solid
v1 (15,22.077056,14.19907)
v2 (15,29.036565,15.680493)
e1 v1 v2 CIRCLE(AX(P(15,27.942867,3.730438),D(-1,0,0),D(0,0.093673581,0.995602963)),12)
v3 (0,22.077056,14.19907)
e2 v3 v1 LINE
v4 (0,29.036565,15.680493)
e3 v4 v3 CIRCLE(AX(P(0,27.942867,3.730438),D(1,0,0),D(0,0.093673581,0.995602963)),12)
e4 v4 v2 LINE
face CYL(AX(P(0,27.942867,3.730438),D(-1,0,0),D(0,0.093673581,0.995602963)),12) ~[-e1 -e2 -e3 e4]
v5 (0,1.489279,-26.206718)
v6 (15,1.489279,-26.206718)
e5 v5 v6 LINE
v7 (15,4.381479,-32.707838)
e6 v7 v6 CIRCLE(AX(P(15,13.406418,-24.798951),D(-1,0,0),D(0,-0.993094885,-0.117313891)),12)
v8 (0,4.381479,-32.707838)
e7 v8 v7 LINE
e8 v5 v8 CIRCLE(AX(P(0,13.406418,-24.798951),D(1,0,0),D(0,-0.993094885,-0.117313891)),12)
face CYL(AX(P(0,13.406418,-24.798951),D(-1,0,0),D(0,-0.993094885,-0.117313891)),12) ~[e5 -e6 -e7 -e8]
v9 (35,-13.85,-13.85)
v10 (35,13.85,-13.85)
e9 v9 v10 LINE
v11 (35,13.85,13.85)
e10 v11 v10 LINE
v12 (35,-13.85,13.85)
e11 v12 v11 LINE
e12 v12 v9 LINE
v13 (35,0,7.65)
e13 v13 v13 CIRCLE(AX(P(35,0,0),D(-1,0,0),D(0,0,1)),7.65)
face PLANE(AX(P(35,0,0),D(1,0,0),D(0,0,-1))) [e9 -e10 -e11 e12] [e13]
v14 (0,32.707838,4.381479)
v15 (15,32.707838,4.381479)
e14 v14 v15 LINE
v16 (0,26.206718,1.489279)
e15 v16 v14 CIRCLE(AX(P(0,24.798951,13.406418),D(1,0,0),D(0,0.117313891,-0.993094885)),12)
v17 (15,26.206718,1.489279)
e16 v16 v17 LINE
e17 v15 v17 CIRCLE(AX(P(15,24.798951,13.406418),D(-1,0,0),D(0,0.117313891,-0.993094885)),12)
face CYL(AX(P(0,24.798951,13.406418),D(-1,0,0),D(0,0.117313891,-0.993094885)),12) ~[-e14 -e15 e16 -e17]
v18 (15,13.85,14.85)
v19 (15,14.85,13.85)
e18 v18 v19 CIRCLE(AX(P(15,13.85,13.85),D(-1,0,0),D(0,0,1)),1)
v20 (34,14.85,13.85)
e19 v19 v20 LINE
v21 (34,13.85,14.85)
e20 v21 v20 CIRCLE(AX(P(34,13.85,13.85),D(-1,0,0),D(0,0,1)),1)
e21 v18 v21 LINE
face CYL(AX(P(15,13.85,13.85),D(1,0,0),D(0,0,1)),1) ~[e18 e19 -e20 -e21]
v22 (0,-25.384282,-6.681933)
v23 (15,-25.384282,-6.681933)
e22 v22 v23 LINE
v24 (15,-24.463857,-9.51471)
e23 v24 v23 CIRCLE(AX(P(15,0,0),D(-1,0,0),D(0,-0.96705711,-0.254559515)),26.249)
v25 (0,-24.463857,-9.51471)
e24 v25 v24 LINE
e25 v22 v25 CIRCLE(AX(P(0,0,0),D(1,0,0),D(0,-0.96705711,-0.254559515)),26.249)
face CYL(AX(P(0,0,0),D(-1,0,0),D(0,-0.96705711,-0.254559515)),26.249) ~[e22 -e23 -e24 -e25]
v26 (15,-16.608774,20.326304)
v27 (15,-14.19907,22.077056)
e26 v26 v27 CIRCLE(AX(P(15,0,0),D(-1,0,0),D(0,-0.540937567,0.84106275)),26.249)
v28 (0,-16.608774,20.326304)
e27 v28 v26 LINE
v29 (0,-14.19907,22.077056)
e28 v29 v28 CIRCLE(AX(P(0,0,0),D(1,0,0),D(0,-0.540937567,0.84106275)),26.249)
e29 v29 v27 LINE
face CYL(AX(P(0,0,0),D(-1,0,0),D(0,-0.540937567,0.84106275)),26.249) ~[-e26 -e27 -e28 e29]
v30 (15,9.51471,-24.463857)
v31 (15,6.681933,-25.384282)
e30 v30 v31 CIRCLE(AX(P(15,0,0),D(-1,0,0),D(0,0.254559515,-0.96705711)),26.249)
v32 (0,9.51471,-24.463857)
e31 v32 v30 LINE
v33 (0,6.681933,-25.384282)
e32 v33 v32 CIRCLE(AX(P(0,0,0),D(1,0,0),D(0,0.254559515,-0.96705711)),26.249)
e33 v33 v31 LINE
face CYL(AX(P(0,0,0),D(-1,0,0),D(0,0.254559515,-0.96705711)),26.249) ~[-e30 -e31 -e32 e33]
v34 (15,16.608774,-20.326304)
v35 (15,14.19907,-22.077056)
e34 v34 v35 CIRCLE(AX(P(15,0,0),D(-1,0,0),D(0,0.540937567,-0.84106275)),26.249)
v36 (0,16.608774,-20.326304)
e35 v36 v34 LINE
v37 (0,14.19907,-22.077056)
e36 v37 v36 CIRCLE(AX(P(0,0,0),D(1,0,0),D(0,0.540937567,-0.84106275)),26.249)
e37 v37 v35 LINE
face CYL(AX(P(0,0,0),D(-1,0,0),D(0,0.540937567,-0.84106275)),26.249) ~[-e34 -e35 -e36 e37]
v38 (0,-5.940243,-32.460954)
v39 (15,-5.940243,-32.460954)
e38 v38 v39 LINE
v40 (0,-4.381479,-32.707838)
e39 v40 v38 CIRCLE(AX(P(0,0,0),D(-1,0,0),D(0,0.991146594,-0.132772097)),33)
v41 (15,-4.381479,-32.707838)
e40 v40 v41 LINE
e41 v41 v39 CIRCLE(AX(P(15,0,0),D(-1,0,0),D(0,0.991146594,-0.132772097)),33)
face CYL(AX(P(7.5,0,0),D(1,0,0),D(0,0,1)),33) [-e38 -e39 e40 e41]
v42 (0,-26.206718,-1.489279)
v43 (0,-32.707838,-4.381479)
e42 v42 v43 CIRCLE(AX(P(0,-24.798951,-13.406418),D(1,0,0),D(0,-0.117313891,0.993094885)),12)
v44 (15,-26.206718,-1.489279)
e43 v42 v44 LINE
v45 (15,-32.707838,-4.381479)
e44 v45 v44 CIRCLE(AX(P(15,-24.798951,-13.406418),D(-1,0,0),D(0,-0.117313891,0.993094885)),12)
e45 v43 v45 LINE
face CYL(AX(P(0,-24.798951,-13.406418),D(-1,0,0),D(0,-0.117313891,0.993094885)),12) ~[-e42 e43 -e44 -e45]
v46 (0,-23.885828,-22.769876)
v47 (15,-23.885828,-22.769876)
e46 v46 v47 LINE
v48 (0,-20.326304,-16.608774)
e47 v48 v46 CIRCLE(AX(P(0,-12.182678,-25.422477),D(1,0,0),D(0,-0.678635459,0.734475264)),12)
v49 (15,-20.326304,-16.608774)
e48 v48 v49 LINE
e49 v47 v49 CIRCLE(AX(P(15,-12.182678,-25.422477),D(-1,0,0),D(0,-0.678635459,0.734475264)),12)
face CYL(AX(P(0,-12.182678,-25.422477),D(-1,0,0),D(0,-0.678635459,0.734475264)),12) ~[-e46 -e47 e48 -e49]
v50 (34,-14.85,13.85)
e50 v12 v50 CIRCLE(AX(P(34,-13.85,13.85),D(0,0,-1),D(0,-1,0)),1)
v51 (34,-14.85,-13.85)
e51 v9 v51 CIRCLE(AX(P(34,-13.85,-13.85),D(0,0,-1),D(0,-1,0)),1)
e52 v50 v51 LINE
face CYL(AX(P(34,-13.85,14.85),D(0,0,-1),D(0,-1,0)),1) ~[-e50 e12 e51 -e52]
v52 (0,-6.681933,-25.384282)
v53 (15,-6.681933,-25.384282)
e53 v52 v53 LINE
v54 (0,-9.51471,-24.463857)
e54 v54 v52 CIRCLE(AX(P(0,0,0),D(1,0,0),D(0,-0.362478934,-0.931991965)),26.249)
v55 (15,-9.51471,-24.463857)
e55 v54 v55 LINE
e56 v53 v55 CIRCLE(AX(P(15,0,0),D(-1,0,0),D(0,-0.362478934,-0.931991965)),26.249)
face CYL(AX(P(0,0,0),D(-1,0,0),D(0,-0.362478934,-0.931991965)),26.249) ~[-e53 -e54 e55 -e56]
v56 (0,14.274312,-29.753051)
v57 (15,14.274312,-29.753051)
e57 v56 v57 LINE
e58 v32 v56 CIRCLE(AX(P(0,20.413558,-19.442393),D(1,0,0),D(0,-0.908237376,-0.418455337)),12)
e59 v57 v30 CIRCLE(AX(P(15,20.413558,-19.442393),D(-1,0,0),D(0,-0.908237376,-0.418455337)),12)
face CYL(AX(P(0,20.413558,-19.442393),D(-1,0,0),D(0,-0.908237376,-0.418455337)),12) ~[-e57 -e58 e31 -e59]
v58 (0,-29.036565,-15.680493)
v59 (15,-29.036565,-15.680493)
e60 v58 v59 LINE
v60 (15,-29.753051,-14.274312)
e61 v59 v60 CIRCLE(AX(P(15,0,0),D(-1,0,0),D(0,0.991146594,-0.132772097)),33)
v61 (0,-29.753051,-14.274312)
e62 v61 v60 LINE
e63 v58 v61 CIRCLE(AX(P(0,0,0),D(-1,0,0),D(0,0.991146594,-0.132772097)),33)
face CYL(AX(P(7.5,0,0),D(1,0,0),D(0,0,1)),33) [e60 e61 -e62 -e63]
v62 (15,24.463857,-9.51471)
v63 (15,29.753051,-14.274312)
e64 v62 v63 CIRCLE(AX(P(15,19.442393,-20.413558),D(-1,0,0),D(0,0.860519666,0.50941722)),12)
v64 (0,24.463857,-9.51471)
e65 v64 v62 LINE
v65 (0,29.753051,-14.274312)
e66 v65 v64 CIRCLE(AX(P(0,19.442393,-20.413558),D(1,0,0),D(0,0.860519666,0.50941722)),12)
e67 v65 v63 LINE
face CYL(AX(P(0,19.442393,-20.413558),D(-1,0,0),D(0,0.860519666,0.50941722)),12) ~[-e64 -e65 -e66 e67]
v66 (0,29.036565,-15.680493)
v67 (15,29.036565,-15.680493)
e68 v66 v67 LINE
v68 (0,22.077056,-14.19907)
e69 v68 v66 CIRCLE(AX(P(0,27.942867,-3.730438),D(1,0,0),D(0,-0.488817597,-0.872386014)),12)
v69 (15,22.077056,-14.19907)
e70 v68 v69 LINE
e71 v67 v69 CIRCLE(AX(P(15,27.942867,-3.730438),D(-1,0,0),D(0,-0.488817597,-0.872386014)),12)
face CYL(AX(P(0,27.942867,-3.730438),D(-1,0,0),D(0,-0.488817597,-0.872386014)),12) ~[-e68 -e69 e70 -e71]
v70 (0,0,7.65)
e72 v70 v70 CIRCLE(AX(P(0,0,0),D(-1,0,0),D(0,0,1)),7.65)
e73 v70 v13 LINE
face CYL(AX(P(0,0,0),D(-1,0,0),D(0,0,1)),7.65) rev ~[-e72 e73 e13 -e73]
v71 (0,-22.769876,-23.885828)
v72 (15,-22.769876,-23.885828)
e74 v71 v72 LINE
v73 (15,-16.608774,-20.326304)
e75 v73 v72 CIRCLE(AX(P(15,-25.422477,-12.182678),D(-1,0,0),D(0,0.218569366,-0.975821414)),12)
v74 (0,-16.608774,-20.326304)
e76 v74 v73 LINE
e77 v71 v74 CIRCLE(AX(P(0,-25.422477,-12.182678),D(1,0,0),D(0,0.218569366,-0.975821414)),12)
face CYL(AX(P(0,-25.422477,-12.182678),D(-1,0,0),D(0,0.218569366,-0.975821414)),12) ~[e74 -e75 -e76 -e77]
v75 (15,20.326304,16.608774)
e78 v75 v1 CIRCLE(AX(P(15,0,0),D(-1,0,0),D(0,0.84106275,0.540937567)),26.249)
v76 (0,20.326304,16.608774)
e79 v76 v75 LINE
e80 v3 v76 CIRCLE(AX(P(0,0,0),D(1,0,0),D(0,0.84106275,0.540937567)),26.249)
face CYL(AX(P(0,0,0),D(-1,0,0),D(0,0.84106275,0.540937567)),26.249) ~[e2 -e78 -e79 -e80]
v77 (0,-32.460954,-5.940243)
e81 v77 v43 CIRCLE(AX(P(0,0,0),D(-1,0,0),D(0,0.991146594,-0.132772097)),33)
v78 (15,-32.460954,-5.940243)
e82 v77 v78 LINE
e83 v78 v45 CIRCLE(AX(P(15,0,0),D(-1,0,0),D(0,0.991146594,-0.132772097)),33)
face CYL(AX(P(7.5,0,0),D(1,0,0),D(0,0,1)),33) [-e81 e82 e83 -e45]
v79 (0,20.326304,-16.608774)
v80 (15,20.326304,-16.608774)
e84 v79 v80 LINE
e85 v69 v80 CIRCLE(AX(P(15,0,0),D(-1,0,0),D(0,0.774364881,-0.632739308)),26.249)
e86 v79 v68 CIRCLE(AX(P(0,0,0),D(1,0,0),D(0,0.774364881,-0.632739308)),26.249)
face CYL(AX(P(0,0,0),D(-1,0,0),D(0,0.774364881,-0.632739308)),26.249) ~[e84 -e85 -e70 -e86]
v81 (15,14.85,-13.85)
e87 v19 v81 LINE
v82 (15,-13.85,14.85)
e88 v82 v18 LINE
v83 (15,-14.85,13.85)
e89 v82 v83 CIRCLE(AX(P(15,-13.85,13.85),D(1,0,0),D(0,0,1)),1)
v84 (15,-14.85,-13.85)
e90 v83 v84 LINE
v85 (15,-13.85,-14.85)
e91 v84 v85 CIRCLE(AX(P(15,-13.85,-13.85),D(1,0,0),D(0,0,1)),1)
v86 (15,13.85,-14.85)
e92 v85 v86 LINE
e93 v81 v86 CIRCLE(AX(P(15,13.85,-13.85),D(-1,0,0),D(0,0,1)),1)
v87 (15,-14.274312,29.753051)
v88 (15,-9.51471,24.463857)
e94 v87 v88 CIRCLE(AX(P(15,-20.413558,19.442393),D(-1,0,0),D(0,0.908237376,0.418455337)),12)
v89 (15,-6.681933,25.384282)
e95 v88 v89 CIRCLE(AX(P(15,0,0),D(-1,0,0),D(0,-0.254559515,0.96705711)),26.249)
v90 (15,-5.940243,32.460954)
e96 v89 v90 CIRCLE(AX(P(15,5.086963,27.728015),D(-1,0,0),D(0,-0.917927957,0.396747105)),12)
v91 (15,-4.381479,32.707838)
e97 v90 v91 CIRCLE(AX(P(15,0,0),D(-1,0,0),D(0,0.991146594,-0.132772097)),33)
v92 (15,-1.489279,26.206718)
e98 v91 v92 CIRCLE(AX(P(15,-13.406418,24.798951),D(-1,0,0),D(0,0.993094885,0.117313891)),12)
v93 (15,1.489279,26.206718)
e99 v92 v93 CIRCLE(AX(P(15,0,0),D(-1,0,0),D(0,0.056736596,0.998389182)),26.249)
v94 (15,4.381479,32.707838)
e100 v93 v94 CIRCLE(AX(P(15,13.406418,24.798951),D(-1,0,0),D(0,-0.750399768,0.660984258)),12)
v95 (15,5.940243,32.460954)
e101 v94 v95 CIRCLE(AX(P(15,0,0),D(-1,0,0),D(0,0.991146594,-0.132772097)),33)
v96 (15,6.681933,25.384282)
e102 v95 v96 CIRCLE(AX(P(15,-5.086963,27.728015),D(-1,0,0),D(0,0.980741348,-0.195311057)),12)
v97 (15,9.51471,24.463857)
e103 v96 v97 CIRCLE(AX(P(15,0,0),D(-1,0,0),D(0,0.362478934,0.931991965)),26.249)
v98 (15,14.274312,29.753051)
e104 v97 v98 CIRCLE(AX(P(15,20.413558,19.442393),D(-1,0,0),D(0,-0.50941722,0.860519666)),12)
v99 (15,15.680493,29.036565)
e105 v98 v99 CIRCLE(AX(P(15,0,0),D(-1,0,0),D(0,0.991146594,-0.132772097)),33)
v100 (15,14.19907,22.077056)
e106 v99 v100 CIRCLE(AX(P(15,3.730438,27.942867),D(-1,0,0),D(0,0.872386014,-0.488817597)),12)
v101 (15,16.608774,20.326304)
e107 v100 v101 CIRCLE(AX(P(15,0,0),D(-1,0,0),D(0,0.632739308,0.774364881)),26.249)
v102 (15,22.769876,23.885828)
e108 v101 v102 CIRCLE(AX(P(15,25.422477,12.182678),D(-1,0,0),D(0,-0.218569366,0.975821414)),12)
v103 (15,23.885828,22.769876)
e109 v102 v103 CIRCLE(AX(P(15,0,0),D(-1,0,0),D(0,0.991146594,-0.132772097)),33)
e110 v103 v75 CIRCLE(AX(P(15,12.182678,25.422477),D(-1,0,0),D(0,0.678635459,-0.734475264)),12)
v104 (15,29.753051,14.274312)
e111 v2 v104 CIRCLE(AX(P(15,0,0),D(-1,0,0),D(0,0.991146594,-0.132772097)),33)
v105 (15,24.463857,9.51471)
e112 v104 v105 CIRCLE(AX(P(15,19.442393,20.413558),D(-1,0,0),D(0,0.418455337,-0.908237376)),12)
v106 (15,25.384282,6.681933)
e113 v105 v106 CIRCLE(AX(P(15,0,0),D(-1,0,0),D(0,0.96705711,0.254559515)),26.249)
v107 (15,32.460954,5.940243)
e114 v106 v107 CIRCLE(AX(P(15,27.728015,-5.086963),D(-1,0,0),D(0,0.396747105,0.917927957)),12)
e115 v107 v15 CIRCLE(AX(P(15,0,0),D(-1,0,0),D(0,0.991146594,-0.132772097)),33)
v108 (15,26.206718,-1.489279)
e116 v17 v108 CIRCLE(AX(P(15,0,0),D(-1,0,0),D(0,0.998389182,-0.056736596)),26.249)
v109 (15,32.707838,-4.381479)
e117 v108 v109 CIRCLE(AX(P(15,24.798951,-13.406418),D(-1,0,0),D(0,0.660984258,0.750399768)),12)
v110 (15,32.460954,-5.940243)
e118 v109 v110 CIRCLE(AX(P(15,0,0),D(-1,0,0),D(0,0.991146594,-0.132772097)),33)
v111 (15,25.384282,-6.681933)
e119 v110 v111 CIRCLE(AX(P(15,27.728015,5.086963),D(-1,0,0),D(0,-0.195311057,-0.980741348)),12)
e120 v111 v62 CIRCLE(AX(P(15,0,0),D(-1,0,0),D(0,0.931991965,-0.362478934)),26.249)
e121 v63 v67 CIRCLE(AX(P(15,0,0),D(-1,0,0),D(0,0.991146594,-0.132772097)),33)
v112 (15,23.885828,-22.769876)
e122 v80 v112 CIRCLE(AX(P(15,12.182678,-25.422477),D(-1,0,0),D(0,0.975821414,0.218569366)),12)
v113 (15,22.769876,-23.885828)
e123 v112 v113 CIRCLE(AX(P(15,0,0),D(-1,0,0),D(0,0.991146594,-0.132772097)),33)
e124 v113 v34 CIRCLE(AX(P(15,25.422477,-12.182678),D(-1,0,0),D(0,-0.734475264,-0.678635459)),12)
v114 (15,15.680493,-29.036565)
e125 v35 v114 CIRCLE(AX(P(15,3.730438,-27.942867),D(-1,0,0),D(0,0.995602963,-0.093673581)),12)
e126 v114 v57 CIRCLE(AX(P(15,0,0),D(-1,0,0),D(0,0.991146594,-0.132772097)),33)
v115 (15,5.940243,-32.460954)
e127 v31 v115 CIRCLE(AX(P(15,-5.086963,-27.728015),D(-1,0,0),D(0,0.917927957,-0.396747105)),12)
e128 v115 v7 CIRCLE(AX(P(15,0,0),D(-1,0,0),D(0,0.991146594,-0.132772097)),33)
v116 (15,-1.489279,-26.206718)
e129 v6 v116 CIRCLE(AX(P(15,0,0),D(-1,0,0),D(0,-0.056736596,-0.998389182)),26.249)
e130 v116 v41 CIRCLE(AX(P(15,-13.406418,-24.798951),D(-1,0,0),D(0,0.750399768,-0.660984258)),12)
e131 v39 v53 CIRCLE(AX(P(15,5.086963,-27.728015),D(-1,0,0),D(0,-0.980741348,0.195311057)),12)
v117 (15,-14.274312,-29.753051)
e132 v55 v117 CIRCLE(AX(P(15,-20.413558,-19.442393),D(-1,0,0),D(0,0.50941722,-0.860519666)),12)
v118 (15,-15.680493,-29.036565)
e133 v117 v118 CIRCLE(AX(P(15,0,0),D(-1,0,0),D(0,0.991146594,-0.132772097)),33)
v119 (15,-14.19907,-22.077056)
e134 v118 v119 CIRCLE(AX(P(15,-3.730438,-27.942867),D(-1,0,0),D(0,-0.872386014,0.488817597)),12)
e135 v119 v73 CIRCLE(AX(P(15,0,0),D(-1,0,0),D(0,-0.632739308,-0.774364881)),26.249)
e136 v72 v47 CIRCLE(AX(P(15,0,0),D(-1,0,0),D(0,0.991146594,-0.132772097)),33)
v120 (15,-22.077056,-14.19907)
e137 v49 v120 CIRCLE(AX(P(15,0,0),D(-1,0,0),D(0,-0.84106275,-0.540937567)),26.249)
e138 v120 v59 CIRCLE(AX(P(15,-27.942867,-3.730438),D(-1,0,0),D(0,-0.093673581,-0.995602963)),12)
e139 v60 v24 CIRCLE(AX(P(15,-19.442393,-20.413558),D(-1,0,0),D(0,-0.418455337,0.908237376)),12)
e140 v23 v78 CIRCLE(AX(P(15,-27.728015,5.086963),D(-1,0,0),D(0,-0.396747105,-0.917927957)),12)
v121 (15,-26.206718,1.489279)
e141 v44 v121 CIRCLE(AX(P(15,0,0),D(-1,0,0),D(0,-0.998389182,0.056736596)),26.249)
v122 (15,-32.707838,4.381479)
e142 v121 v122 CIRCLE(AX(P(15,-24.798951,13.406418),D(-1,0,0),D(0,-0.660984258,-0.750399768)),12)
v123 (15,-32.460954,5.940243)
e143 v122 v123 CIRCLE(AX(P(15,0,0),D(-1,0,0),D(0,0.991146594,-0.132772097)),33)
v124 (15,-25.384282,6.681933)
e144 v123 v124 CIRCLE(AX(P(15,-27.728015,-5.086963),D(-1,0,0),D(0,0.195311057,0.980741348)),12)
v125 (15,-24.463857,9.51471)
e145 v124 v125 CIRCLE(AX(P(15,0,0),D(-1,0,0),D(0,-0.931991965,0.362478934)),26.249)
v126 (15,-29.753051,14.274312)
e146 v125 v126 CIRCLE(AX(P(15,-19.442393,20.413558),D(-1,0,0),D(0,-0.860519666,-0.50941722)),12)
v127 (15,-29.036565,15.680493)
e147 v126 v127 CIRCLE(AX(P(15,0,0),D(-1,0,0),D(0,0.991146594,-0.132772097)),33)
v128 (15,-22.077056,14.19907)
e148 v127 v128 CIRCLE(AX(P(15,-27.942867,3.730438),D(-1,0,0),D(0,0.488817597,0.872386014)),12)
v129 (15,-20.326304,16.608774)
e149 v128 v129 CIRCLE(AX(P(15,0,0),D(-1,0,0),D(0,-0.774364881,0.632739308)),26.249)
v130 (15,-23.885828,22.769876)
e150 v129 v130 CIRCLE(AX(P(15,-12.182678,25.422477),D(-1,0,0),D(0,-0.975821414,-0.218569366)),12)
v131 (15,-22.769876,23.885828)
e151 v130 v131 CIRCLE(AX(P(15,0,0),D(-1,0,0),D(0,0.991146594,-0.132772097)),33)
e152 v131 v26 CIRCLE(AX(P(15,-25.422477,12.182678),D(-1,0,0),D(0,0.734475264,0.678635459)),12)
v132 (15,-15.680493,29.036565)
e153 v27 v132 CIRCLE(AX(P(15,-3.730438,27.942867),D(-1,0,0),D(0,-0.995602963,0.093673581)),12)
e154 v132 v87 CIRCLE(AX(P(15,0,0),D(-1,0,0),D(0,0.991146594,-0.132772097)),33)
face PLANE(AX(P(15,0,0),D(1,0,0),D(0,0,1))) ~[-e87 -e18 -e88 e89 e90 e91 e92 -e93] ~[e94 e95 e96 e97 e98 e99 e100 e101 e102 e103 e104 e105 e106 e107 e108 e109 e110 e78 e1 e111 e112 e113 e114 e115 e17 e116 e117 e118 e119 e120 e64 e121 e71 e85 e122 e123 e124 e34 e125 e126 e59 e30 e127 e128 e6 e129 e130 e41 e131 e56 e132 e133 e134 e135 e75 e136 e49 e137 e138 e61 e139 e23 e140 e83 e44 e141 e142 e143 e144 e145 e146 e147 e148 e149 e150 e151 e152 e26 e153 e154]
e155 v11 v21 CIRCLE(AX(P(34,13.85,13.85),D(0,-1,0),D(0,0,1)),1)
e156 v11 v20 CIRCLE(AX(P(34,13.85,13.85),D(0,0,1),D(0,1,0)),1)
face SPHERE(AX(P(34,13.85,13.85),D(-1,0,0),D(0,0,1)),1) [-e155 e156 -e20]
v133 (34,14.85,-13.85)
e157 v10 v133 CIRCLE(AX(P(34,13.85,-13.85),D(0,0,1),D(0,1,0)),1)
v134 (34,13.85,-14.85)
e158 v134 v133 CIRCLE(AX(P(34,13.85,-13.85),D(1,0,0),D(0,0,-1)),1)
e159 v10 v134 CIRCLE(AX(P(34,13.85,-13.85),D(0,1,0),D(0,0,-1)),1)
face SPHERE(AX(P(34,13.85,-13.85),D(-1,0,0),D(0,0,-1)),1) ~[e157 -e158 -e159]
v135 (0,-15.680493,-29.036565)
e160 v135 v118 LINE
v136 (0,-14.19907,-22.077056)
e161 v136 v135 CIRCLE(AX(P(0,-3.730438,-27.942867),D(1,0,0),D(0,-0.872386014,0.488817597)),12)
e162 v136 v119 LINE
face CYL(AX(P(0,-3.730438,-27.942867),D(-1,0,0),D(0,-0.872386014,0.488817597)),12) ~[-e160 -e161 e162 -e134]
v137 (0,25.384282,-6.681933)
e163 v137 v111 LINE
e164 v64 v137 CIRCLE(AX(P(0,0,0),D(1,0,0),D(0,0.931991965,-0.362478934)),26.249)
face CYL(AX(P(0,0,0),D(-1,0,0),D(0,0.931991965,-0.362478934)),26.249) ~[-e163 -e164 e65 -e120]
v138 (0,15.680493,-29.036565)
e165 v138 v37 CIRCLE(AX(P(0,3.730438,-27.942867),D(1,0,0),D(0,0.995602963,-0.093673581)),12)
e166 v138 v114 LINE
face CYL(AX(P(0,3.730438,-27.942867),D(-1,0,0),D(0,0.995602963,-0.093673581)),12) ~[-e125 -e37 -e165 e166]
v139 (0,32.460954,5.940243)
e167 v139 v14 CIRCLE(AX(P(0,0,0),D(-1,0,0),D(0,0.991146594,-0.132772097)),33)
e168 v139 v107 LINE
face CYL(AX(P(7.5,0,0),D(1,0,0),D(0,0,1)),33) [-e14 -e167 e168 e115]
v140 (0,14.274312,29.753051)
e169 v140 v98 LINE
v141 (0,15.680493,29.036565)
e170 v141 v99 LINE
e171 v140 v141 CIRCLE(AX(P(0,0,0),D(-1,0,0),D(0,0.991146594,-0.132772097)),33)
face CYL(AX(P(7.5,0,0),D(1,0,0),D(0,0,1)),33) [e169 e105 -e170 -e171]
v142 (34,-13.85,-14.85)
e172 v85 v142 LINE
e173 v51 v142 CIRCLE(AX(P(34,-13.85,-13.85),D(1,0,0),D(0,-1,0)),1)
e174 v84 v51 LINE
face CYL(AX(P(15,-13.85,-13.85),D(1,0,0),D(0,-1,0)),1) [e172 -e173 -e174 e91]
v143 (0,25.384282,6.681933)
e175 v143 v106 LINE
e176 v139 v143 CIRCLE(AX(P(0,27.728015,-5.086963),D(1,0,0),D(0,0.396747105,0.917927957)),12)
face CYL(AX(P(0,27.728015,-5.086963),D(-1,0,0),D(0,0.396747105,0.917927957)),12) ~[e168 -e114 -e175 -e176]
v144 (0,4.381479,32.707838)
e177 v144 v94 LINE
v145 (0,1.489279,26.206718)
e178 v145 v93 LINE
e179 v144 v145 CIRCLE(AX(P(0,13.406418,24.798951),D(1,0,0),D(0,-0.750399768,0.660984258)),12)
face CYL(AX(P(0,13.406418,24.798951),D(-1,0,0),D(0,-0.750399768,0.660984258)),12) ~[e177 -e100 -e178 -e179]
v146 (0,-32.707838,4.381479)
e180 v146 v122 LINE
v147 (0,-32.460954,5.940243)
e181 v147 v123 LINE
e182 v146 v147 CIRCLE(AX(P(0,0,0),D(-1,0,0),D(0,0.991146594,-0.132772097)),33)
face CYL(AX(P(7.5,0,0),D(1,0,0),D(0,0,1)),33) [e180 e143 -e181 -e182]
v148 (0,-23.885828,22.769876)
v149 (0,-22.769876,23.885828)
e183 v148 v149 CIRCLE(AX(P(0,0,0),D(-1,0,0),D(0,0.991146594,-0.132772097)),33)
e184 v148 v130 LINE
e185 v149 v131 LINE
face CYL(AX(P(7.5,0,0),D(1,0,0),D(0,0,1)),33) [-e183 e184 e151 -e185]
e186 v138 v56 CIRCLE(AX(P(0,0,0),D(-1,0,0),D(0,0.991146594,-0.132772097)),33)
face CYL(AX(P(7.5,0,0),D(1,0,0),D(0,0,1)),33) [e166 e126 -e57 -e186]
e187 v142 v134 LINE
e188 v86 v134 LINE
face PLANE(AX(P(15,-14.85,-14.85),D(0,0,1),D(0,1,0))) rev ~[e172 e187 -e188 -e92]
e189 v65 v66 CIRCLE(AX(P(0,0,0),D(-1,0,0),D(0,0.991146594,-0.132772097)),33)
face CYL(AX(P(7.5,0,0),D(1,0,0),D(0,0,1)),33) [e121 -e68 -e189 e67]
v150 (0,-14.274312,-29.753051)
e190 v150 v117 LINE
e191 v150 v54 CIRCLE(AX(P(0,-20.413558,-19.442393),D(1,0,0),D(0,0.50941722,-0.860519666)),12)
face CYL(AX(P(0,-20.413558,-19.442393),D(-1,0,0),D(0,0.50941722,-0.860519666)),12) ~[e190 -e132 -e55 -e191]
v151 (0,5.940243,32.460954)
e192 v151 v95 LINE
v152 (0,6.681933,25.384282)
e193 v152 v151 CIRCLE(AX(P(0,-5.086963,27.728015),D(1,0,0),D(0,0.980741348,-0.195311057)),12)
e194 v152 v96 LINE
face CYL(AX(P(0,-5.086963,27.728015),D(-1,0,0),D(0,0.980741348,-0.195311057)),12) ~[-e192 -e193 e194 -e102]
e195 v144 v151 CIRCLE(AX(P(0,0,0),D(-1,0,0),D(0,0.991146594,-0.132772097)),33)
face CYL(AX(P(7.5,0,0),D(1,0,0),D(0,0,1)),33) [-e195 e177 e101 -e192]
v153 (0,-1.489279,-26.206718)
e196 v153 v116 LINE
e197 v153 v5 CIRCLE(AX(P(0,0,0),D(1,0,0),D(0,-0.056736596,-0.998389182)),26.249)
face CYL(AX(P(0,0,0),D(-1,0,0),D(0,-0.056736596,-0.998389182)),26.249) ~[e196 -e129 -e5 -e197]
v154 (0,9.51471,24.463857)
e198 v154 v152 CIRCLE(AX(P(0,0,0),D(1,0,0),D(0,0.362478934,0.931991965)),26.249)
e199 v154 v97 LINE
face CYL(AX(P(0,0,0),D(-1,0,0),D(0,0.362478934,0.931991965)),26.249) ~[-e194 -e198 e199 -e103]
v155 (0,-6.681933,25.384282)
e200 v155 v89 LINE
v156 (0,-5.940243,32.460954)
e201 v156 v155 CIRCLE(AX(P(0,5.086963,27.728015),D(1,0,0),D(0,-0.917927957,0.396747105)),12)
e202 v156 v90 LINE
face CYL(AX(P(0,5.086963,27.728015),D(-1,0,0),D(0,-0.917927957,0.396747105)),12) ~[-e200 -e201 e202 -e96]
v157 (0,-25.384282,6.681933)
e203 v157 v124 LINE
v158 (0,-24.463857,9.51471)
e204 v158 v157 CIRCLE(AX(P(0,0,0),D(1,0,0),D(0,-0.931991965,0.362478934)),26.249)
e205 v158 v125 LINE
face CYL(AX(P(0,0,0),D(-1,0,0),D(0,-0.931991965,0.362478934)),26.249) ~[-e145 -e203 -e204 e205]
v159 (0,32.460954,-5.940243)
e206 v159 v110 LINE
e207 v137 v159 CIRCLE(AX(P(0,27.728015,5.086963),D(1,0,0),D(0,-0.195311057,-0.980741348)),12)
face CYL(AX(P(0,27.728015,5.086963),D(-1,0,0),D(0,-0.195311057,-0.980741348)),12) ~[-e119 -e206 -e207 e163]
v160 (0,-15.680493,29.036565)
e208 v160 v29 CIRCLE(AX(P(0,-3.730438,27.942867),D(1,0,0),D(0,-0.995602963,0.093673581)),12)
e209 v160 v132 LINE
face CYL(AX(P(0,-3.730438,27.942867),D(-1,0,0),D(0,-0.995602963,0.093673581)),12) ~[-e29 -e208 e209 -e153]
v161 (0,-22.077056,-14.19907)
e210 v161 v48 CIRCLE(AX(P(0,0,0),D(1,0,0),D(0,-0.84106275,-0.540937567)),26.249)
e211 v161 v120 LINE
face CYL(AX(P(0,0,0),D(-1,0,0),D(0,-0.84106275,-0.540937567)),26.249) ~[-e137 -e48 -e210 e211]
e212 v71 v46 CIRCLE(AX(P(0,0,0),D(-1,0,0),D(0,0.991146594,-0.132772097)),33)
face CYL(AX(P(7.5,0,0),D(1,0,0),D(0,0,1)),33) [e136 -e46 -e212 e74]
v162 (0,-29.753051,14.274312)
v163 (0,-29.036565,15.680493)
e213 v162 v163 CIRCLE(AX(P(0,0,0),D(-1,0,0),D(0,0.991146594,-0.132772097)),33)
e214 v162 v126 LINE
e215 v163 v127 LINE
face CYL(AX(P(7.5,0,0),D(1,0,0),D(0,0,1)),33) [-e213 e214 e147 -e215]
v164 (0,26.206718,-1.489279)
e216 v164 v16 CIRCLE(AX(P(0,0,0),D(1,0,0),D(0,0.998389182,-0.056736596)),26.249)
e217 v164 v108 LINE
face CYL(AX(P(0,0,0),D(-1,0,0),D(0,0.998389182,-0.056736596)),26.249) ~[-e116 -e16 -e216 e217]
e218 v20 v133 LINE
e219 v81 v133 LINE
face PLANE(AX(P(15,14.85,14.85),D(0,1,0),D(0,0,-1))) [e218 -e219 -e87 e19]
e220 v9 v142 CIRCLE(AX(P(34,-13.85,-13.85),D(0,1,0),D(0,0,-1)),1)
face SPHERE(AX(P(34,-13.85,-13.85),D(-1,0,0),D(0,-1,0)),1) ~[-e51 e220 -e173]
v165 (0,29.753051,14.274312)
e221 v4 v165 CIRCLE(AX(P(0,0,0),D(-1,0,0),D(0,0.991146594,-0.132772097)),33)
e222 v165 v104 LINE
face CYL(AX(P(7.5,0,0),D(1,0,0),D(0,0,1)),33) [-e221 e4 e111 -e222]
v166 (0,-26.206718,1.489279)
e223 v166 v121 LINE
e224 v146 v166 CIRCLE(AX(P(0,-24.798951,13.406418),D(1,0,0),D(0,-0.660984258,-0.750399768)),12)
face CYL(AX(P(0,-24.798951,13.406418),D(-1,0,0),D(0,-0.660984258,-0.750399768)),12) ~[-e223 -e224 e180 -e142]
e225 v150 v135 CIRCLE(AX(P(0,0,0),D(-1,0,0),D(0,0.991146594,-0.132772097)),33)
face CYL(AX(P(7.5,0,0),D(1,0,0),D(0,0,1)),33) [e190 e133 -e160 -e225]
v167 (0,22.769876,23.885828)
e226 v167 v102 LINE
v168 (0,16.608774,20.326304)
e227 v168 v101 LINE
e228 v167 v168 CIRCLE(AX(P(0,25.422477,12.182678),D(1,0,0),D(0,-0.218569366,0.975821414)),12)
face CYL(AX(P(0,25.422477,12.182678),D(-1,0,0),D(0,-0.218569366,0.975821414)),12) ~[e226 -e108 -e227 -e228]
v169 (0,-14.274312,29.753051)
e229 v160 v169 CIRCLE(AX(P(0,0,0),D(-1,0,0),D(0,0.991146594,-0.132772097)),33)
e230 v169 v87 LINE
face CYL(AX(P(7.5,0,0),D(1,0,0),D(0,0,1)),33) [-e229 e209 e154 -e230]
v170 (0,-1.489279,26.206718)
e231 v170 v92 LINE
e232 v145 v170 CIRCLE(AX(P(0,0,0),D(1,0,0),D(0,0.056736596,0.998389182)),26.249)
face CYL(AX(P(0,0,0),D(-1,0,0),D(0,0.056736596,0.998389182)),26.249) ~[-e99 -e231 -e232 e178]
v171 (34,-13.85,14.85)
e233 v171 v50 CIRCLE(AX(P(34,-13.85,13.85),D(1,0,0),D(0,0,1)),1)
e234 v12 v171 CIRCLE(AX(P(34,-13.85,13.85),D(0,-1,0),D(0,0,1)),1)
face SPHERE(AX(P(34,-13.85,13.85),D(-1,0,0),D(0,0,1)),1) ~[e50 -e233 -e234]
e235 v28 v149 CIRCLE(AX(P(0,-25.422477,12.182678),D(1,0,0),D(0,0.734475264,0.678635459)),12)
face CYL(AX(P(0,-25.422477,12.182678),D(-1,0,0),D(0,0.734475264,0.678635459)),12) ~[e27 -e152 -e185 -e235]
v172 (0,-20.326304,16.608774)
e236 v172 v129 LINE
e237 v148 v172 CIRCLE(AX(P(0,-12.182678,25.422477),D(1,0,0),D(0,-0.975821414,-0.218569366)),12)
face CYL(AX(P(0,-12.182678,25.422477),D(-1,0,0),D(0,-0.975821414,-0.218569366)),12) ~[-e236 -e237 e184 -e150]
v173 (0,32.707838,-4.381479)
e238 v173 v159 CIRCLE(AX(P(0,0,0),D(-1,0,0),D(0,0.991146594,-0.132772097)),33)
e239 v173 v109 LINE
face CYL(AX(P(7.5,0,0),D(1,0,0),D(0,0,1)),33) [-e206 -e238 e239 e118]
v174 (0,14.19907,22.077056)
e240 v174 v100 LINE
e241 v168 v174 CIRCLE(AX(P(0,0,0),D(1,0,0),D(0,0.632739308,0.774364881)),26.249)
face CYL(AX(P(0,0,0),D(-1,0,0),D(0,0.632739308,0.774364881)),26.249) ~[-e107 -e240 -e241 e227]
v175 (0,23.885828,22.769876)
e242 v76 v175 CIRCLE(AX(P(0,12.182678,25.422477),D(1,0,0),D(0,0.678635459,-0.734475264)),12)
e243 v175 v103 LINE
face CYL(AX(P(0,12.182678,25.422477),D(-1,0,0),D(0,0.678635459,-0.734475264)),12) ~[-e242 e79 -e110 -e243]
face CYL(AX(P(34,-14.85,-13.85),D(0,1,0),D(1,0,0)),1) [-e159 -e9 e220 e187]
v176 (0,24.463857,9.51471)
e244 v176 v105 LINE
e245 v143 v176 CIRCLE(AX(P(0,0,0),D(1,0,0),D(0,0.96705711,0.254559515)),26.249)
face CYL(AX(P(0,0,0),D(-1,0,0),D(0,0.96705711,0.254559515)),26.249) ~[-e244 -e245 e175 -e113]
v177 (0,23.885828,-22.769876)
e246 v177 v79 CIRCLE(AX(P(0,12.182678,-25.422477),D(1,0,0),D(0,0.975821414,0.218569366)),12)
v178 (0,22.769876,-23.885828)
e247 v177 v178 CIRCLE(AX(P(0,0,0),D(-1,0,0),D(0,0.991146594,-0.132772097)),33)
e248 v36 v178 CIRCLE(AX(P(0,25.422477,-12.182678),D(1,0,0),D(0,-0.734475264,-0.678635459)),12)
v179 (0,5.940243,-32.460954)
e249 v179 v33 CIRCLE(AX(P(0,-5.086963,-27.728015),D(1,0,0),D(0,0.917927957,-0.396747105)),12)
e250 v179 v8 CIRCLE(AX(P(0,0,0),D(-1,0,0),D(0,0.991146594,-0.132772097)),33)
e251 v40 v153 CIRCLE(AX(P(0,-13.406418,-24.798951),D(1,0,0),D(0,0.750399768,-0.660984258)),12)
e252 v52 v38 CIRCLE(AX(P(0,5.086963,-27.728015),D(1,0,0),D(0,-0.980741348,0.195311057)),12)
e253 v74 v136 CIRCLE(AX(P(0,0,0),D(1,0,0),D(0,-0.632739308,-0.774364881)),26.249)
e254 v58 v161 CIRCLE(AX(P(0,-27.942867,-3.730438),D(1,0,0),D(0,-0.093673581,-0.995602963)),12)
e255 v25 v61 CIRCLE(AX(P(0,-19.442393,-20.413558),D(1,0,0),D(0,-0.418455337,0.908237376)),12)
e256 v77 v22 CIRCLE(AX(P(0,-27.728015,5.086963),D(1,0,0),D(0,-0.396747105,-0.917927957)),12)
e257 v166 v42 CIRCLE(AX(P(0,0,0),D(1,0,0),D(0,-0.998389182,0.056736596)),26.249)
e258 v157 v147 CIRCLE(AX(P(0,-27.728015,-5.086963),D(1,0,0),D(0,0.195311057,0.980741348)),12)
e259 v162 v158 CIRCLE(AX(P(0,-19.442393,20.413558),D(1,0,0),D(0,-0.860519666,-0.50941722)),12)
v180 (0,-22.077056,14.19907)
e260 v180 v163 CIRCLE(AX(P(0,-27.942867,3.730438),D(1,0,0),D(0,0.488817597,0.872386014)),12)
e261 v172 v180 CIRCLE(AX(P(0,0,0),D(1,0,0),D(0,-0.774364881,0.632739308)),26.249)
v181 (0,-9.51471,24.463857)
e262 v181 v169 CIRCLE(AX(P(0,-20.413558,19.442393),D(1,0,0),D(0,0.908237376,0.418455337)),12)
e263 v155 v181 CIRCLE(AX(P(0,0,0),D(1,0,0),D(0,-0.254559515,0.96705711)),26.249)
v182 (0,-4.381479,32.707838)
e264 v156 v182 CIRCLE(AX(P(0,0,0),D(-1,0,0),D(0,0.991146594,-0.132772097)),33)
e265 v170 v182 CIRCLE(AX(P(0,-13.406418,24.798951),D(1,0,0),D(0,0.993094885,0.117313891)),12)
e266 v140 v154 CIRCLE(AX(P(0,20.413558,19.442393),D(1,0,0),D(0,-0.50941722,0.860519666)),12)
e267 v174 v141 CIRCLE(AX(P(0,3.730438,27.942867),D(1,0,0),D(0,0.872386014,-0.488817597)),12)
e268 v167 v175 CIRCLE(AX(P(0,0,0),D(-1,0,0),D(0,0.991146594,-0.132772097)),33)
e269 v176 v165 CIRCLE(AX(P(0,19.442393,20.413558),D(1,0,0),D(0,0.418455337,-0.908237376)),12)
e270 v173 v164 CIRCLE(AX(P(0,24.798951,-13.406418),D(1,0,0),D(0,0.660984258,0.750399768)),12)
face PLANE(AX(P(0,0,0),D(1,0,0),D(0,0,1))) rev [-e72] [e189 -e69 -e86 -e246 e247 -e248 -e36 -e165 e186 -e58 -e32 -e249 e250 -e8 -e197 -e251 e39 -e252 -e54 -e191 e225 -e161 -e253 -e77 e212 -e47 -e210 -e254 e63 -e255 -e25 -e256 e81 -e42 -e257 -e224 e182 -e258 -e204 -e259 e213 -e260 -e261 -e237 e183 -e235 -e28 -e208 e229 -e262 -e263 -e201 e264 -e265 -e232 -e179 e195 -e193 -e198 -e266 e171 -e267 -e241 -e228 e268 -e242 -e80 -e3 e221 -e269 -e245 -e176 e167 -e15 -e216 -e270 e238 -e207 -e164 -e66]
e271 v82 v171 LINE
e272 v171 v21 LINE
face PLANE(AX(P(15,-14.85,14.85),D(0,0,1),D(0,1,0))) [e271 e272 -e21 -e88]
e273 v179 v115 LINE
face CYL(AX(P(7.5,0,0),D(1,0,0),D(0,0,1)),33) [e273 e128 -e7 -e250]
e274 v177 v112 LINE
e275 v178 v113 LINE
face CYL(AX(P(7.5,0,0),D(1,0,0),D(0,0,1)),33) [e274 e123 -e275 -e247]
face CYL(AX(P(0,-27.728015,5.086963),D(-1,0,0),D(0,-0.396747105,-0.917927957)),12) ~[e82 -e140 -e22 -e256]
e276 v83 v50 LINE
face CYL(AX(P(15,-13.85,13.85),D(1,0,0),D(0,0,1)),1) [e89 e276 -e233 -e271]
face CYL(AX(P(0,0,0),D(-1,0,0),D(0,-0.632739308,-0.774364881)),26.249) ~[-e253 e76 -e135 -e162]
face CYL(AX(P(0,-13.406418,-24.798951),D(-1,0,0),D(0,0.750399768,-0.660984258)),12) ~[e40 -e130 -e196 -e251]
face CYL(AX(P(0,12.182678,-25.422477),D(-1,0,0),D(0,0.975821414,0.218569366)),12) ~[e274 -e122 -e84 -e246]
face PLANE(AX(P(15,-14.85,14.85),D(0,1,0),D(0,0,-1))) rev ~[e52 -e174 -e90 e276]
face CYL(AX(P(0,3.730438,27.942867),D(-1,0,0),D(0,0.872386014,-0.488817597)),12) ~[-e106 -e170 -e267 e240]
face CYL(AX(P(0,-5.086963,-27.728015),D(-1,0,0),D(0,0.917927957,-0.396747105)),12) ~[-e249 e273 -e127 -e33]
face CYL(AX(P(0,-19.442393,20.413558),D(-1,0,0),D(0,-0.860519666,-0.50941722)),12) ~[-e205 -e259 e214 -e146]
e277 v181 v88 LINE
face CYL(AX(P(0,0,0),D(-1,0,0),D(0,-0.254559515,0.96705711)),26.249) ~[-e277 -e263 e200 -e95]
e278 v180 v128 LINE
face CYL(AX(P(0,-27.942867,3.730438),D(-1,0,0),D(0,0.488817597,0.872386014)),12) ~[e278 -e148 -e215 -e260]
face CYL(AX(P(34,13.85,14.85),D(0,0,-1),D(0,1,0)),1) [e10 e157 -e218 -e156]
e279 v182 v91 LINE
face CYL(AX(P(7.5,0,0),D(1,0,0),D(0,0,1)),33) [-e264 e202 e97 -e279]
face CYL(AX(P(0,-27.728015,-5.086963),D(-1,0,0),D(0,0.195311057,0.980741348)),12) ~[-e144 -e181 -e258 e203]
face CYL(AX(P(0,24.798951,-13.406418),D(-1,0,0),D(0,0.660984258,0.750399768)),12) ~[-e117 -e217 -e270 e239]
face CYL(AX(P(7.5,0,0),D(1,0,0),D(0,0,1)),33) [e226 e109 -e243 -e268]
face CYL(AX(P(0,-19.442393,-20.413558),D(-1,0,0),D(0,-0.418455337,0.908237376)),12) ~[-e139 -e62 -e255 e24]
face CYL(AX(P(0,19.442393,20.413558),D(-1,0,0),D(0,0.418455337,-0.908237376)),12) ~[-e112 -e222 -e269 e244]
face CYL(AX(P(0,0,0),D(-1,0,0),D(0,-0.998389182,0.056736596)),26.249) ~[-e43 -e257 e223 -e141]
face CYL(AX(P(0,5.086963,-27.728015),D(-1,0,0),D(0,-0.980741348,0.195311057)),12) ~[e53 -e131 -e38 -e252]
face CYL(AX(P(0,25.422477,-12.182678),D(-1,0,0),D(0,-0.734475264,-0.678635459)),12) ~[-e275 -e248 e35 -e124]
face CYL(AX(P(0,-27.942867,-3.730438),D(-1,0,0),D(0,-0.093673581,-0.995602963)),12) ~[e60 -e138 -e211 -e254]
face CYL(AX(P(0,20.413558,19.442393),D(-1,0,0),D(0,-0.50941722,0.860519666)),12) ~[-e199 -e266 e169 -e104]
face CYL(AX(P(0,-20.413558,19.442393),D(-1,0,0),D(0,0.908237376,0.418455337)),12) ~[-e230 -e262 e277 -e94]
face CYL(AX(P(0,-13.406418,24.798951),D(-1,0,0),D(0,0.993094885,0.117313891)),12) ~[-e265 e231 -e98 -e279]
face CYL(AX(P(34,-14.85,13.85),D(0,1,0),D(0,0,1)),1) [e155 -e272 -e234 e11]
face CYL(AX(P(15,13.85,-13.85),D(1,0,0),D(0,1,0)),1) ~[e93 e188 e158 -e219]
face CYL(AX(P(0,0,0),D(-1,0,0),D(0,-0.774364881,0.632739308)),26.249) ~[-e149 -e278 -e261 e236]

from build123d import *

# Parameters (mm, degrees)
BASPROSKE_W         = 15
BASPROSKE_H         = 33
TOOTHCUT_DEPTH      = 50.020403915
TEETHCUTS_COUNT     = 20
TEETHCUTS_ANGLE     = 342
BORSKE_R            = 2
BORE_DEPTH          = 50.0000508
SKETCH1_W           = 29.7
SKETCH1_H           = 29.7
BOSS_EXTRUDE1_DEPTH = 20
SKETCH2_R           = 7.65
CUT_EXTRUDE1_DEPTH  = 35
FILLET2_R           = 1


with BuildPart() as part:
    # BasProSke → Base-Revolve (revolve)
    with BuildSketch(Plane(origin=(0, 0, 0), x_dir=(1, 0, 0), z_dir=(0, 1, 0)), mode=Mode.PRIVATE) as base_revolve_sk:
        with Locations((7.5, 16.5)):
            Rectangle(BASPROSKE_W, BASPROSKE_H)
    revolve(base_revolve_sk.sketch.rotate(Axis((-10, 0, 0), (1, 0, 0)), 180), axis=Axis((-10, 0, 0), (1, 0, 0)))

    # TooCutSke → ToothCut (cut, through all)
    with BuildSketch(Plane(origin=(0, 0, 0), x_dir=(0, 0, -1), z_dir=(1, 0, 0))):
        with BuildLine():
            ThreePointArc((1.489278925, 26.206717637), (0, 26.249), (-1.489278925, 26.206717637))
            ThreePointArc((-1.489278925, 26.206717637), (-2.448651415, 29.690511169), (-4.401620335, 32.730762038))
            ThreePointArc((-4.401620335, 32.730762038), (0, 33.0254), (4.401620335, 32.730762038))
            ThreePointArc((4.401620335, 32.730762038), (2.448651415, 29.690511169), (1.489278925, 26.206717637))
        make_face()
    toothcut = extrude(amount=TOOTHCUT_DEPTH, mode=Mode.SUBTRACT)

    # TeethCuts: ToothCut ×20 about axis
    teethcuts_axis = Axis((-10, 0, 0), (1, 0, 0))
    for i in range(1, TEETHCUTS_COUNT):
        add(toothcut.rotate(teethcuts_axis, i * TEETHCUTS_ANGLE / (TEETHCUTS_COUNT - 1)), mode=Mode.SUBTRACT)

    # BorSke → Bore (cut, symmetric)
    with BuildSketch(Plane(origin=(0, 0, 0), x_dir=(0, 0, -1), z_dir=(1, 0, 0))):
        with Locations(Location((0, 0, 0), (0, 0, 180))):
            Circle(BORSKE_R)
    extrude(amount=BORE_DEPTH, both=True, mode=Mode.SUBTRACT)

    # Sketch1 → Boss-Extrude1 (add)
    with BuildSketch(Plane(origin=(15, 0, 0), x_dir=(0, 0, -1), z_dir=(1, 0, 0))):
        Rectangle(SKETCH1_W, SKETCH1_H)
    extrude(amount=BOSS_EXTRUDE1_DEPTH)

    # Sketch2 → Cut-Extrude1 (cut)
    with BuildSketch(Plane.ZY):
        Circle(SKETCH2_R)
    extrude(amount=-CUT_EXTRUDE1_DEPTH, mode=Mode.SUBTRACT)

    # Fillet2
    fillet2_edges = [part.edges().sort_by_distance(p)[0] for p in [
        (25, 14.85, 14.85),
        (25, -14.85, 14.85),
        (25, -14.85, -14.85),
        (25, 14.85, -14.85),
        (35, 0, 14.85),
        (35, -14.85, 0),
        (35, 0, -14.85),
        (35, 14.85, 0),
    ]]
    fillet(fillet2_edges, radius=FILLET2_R)


solid = part.part
